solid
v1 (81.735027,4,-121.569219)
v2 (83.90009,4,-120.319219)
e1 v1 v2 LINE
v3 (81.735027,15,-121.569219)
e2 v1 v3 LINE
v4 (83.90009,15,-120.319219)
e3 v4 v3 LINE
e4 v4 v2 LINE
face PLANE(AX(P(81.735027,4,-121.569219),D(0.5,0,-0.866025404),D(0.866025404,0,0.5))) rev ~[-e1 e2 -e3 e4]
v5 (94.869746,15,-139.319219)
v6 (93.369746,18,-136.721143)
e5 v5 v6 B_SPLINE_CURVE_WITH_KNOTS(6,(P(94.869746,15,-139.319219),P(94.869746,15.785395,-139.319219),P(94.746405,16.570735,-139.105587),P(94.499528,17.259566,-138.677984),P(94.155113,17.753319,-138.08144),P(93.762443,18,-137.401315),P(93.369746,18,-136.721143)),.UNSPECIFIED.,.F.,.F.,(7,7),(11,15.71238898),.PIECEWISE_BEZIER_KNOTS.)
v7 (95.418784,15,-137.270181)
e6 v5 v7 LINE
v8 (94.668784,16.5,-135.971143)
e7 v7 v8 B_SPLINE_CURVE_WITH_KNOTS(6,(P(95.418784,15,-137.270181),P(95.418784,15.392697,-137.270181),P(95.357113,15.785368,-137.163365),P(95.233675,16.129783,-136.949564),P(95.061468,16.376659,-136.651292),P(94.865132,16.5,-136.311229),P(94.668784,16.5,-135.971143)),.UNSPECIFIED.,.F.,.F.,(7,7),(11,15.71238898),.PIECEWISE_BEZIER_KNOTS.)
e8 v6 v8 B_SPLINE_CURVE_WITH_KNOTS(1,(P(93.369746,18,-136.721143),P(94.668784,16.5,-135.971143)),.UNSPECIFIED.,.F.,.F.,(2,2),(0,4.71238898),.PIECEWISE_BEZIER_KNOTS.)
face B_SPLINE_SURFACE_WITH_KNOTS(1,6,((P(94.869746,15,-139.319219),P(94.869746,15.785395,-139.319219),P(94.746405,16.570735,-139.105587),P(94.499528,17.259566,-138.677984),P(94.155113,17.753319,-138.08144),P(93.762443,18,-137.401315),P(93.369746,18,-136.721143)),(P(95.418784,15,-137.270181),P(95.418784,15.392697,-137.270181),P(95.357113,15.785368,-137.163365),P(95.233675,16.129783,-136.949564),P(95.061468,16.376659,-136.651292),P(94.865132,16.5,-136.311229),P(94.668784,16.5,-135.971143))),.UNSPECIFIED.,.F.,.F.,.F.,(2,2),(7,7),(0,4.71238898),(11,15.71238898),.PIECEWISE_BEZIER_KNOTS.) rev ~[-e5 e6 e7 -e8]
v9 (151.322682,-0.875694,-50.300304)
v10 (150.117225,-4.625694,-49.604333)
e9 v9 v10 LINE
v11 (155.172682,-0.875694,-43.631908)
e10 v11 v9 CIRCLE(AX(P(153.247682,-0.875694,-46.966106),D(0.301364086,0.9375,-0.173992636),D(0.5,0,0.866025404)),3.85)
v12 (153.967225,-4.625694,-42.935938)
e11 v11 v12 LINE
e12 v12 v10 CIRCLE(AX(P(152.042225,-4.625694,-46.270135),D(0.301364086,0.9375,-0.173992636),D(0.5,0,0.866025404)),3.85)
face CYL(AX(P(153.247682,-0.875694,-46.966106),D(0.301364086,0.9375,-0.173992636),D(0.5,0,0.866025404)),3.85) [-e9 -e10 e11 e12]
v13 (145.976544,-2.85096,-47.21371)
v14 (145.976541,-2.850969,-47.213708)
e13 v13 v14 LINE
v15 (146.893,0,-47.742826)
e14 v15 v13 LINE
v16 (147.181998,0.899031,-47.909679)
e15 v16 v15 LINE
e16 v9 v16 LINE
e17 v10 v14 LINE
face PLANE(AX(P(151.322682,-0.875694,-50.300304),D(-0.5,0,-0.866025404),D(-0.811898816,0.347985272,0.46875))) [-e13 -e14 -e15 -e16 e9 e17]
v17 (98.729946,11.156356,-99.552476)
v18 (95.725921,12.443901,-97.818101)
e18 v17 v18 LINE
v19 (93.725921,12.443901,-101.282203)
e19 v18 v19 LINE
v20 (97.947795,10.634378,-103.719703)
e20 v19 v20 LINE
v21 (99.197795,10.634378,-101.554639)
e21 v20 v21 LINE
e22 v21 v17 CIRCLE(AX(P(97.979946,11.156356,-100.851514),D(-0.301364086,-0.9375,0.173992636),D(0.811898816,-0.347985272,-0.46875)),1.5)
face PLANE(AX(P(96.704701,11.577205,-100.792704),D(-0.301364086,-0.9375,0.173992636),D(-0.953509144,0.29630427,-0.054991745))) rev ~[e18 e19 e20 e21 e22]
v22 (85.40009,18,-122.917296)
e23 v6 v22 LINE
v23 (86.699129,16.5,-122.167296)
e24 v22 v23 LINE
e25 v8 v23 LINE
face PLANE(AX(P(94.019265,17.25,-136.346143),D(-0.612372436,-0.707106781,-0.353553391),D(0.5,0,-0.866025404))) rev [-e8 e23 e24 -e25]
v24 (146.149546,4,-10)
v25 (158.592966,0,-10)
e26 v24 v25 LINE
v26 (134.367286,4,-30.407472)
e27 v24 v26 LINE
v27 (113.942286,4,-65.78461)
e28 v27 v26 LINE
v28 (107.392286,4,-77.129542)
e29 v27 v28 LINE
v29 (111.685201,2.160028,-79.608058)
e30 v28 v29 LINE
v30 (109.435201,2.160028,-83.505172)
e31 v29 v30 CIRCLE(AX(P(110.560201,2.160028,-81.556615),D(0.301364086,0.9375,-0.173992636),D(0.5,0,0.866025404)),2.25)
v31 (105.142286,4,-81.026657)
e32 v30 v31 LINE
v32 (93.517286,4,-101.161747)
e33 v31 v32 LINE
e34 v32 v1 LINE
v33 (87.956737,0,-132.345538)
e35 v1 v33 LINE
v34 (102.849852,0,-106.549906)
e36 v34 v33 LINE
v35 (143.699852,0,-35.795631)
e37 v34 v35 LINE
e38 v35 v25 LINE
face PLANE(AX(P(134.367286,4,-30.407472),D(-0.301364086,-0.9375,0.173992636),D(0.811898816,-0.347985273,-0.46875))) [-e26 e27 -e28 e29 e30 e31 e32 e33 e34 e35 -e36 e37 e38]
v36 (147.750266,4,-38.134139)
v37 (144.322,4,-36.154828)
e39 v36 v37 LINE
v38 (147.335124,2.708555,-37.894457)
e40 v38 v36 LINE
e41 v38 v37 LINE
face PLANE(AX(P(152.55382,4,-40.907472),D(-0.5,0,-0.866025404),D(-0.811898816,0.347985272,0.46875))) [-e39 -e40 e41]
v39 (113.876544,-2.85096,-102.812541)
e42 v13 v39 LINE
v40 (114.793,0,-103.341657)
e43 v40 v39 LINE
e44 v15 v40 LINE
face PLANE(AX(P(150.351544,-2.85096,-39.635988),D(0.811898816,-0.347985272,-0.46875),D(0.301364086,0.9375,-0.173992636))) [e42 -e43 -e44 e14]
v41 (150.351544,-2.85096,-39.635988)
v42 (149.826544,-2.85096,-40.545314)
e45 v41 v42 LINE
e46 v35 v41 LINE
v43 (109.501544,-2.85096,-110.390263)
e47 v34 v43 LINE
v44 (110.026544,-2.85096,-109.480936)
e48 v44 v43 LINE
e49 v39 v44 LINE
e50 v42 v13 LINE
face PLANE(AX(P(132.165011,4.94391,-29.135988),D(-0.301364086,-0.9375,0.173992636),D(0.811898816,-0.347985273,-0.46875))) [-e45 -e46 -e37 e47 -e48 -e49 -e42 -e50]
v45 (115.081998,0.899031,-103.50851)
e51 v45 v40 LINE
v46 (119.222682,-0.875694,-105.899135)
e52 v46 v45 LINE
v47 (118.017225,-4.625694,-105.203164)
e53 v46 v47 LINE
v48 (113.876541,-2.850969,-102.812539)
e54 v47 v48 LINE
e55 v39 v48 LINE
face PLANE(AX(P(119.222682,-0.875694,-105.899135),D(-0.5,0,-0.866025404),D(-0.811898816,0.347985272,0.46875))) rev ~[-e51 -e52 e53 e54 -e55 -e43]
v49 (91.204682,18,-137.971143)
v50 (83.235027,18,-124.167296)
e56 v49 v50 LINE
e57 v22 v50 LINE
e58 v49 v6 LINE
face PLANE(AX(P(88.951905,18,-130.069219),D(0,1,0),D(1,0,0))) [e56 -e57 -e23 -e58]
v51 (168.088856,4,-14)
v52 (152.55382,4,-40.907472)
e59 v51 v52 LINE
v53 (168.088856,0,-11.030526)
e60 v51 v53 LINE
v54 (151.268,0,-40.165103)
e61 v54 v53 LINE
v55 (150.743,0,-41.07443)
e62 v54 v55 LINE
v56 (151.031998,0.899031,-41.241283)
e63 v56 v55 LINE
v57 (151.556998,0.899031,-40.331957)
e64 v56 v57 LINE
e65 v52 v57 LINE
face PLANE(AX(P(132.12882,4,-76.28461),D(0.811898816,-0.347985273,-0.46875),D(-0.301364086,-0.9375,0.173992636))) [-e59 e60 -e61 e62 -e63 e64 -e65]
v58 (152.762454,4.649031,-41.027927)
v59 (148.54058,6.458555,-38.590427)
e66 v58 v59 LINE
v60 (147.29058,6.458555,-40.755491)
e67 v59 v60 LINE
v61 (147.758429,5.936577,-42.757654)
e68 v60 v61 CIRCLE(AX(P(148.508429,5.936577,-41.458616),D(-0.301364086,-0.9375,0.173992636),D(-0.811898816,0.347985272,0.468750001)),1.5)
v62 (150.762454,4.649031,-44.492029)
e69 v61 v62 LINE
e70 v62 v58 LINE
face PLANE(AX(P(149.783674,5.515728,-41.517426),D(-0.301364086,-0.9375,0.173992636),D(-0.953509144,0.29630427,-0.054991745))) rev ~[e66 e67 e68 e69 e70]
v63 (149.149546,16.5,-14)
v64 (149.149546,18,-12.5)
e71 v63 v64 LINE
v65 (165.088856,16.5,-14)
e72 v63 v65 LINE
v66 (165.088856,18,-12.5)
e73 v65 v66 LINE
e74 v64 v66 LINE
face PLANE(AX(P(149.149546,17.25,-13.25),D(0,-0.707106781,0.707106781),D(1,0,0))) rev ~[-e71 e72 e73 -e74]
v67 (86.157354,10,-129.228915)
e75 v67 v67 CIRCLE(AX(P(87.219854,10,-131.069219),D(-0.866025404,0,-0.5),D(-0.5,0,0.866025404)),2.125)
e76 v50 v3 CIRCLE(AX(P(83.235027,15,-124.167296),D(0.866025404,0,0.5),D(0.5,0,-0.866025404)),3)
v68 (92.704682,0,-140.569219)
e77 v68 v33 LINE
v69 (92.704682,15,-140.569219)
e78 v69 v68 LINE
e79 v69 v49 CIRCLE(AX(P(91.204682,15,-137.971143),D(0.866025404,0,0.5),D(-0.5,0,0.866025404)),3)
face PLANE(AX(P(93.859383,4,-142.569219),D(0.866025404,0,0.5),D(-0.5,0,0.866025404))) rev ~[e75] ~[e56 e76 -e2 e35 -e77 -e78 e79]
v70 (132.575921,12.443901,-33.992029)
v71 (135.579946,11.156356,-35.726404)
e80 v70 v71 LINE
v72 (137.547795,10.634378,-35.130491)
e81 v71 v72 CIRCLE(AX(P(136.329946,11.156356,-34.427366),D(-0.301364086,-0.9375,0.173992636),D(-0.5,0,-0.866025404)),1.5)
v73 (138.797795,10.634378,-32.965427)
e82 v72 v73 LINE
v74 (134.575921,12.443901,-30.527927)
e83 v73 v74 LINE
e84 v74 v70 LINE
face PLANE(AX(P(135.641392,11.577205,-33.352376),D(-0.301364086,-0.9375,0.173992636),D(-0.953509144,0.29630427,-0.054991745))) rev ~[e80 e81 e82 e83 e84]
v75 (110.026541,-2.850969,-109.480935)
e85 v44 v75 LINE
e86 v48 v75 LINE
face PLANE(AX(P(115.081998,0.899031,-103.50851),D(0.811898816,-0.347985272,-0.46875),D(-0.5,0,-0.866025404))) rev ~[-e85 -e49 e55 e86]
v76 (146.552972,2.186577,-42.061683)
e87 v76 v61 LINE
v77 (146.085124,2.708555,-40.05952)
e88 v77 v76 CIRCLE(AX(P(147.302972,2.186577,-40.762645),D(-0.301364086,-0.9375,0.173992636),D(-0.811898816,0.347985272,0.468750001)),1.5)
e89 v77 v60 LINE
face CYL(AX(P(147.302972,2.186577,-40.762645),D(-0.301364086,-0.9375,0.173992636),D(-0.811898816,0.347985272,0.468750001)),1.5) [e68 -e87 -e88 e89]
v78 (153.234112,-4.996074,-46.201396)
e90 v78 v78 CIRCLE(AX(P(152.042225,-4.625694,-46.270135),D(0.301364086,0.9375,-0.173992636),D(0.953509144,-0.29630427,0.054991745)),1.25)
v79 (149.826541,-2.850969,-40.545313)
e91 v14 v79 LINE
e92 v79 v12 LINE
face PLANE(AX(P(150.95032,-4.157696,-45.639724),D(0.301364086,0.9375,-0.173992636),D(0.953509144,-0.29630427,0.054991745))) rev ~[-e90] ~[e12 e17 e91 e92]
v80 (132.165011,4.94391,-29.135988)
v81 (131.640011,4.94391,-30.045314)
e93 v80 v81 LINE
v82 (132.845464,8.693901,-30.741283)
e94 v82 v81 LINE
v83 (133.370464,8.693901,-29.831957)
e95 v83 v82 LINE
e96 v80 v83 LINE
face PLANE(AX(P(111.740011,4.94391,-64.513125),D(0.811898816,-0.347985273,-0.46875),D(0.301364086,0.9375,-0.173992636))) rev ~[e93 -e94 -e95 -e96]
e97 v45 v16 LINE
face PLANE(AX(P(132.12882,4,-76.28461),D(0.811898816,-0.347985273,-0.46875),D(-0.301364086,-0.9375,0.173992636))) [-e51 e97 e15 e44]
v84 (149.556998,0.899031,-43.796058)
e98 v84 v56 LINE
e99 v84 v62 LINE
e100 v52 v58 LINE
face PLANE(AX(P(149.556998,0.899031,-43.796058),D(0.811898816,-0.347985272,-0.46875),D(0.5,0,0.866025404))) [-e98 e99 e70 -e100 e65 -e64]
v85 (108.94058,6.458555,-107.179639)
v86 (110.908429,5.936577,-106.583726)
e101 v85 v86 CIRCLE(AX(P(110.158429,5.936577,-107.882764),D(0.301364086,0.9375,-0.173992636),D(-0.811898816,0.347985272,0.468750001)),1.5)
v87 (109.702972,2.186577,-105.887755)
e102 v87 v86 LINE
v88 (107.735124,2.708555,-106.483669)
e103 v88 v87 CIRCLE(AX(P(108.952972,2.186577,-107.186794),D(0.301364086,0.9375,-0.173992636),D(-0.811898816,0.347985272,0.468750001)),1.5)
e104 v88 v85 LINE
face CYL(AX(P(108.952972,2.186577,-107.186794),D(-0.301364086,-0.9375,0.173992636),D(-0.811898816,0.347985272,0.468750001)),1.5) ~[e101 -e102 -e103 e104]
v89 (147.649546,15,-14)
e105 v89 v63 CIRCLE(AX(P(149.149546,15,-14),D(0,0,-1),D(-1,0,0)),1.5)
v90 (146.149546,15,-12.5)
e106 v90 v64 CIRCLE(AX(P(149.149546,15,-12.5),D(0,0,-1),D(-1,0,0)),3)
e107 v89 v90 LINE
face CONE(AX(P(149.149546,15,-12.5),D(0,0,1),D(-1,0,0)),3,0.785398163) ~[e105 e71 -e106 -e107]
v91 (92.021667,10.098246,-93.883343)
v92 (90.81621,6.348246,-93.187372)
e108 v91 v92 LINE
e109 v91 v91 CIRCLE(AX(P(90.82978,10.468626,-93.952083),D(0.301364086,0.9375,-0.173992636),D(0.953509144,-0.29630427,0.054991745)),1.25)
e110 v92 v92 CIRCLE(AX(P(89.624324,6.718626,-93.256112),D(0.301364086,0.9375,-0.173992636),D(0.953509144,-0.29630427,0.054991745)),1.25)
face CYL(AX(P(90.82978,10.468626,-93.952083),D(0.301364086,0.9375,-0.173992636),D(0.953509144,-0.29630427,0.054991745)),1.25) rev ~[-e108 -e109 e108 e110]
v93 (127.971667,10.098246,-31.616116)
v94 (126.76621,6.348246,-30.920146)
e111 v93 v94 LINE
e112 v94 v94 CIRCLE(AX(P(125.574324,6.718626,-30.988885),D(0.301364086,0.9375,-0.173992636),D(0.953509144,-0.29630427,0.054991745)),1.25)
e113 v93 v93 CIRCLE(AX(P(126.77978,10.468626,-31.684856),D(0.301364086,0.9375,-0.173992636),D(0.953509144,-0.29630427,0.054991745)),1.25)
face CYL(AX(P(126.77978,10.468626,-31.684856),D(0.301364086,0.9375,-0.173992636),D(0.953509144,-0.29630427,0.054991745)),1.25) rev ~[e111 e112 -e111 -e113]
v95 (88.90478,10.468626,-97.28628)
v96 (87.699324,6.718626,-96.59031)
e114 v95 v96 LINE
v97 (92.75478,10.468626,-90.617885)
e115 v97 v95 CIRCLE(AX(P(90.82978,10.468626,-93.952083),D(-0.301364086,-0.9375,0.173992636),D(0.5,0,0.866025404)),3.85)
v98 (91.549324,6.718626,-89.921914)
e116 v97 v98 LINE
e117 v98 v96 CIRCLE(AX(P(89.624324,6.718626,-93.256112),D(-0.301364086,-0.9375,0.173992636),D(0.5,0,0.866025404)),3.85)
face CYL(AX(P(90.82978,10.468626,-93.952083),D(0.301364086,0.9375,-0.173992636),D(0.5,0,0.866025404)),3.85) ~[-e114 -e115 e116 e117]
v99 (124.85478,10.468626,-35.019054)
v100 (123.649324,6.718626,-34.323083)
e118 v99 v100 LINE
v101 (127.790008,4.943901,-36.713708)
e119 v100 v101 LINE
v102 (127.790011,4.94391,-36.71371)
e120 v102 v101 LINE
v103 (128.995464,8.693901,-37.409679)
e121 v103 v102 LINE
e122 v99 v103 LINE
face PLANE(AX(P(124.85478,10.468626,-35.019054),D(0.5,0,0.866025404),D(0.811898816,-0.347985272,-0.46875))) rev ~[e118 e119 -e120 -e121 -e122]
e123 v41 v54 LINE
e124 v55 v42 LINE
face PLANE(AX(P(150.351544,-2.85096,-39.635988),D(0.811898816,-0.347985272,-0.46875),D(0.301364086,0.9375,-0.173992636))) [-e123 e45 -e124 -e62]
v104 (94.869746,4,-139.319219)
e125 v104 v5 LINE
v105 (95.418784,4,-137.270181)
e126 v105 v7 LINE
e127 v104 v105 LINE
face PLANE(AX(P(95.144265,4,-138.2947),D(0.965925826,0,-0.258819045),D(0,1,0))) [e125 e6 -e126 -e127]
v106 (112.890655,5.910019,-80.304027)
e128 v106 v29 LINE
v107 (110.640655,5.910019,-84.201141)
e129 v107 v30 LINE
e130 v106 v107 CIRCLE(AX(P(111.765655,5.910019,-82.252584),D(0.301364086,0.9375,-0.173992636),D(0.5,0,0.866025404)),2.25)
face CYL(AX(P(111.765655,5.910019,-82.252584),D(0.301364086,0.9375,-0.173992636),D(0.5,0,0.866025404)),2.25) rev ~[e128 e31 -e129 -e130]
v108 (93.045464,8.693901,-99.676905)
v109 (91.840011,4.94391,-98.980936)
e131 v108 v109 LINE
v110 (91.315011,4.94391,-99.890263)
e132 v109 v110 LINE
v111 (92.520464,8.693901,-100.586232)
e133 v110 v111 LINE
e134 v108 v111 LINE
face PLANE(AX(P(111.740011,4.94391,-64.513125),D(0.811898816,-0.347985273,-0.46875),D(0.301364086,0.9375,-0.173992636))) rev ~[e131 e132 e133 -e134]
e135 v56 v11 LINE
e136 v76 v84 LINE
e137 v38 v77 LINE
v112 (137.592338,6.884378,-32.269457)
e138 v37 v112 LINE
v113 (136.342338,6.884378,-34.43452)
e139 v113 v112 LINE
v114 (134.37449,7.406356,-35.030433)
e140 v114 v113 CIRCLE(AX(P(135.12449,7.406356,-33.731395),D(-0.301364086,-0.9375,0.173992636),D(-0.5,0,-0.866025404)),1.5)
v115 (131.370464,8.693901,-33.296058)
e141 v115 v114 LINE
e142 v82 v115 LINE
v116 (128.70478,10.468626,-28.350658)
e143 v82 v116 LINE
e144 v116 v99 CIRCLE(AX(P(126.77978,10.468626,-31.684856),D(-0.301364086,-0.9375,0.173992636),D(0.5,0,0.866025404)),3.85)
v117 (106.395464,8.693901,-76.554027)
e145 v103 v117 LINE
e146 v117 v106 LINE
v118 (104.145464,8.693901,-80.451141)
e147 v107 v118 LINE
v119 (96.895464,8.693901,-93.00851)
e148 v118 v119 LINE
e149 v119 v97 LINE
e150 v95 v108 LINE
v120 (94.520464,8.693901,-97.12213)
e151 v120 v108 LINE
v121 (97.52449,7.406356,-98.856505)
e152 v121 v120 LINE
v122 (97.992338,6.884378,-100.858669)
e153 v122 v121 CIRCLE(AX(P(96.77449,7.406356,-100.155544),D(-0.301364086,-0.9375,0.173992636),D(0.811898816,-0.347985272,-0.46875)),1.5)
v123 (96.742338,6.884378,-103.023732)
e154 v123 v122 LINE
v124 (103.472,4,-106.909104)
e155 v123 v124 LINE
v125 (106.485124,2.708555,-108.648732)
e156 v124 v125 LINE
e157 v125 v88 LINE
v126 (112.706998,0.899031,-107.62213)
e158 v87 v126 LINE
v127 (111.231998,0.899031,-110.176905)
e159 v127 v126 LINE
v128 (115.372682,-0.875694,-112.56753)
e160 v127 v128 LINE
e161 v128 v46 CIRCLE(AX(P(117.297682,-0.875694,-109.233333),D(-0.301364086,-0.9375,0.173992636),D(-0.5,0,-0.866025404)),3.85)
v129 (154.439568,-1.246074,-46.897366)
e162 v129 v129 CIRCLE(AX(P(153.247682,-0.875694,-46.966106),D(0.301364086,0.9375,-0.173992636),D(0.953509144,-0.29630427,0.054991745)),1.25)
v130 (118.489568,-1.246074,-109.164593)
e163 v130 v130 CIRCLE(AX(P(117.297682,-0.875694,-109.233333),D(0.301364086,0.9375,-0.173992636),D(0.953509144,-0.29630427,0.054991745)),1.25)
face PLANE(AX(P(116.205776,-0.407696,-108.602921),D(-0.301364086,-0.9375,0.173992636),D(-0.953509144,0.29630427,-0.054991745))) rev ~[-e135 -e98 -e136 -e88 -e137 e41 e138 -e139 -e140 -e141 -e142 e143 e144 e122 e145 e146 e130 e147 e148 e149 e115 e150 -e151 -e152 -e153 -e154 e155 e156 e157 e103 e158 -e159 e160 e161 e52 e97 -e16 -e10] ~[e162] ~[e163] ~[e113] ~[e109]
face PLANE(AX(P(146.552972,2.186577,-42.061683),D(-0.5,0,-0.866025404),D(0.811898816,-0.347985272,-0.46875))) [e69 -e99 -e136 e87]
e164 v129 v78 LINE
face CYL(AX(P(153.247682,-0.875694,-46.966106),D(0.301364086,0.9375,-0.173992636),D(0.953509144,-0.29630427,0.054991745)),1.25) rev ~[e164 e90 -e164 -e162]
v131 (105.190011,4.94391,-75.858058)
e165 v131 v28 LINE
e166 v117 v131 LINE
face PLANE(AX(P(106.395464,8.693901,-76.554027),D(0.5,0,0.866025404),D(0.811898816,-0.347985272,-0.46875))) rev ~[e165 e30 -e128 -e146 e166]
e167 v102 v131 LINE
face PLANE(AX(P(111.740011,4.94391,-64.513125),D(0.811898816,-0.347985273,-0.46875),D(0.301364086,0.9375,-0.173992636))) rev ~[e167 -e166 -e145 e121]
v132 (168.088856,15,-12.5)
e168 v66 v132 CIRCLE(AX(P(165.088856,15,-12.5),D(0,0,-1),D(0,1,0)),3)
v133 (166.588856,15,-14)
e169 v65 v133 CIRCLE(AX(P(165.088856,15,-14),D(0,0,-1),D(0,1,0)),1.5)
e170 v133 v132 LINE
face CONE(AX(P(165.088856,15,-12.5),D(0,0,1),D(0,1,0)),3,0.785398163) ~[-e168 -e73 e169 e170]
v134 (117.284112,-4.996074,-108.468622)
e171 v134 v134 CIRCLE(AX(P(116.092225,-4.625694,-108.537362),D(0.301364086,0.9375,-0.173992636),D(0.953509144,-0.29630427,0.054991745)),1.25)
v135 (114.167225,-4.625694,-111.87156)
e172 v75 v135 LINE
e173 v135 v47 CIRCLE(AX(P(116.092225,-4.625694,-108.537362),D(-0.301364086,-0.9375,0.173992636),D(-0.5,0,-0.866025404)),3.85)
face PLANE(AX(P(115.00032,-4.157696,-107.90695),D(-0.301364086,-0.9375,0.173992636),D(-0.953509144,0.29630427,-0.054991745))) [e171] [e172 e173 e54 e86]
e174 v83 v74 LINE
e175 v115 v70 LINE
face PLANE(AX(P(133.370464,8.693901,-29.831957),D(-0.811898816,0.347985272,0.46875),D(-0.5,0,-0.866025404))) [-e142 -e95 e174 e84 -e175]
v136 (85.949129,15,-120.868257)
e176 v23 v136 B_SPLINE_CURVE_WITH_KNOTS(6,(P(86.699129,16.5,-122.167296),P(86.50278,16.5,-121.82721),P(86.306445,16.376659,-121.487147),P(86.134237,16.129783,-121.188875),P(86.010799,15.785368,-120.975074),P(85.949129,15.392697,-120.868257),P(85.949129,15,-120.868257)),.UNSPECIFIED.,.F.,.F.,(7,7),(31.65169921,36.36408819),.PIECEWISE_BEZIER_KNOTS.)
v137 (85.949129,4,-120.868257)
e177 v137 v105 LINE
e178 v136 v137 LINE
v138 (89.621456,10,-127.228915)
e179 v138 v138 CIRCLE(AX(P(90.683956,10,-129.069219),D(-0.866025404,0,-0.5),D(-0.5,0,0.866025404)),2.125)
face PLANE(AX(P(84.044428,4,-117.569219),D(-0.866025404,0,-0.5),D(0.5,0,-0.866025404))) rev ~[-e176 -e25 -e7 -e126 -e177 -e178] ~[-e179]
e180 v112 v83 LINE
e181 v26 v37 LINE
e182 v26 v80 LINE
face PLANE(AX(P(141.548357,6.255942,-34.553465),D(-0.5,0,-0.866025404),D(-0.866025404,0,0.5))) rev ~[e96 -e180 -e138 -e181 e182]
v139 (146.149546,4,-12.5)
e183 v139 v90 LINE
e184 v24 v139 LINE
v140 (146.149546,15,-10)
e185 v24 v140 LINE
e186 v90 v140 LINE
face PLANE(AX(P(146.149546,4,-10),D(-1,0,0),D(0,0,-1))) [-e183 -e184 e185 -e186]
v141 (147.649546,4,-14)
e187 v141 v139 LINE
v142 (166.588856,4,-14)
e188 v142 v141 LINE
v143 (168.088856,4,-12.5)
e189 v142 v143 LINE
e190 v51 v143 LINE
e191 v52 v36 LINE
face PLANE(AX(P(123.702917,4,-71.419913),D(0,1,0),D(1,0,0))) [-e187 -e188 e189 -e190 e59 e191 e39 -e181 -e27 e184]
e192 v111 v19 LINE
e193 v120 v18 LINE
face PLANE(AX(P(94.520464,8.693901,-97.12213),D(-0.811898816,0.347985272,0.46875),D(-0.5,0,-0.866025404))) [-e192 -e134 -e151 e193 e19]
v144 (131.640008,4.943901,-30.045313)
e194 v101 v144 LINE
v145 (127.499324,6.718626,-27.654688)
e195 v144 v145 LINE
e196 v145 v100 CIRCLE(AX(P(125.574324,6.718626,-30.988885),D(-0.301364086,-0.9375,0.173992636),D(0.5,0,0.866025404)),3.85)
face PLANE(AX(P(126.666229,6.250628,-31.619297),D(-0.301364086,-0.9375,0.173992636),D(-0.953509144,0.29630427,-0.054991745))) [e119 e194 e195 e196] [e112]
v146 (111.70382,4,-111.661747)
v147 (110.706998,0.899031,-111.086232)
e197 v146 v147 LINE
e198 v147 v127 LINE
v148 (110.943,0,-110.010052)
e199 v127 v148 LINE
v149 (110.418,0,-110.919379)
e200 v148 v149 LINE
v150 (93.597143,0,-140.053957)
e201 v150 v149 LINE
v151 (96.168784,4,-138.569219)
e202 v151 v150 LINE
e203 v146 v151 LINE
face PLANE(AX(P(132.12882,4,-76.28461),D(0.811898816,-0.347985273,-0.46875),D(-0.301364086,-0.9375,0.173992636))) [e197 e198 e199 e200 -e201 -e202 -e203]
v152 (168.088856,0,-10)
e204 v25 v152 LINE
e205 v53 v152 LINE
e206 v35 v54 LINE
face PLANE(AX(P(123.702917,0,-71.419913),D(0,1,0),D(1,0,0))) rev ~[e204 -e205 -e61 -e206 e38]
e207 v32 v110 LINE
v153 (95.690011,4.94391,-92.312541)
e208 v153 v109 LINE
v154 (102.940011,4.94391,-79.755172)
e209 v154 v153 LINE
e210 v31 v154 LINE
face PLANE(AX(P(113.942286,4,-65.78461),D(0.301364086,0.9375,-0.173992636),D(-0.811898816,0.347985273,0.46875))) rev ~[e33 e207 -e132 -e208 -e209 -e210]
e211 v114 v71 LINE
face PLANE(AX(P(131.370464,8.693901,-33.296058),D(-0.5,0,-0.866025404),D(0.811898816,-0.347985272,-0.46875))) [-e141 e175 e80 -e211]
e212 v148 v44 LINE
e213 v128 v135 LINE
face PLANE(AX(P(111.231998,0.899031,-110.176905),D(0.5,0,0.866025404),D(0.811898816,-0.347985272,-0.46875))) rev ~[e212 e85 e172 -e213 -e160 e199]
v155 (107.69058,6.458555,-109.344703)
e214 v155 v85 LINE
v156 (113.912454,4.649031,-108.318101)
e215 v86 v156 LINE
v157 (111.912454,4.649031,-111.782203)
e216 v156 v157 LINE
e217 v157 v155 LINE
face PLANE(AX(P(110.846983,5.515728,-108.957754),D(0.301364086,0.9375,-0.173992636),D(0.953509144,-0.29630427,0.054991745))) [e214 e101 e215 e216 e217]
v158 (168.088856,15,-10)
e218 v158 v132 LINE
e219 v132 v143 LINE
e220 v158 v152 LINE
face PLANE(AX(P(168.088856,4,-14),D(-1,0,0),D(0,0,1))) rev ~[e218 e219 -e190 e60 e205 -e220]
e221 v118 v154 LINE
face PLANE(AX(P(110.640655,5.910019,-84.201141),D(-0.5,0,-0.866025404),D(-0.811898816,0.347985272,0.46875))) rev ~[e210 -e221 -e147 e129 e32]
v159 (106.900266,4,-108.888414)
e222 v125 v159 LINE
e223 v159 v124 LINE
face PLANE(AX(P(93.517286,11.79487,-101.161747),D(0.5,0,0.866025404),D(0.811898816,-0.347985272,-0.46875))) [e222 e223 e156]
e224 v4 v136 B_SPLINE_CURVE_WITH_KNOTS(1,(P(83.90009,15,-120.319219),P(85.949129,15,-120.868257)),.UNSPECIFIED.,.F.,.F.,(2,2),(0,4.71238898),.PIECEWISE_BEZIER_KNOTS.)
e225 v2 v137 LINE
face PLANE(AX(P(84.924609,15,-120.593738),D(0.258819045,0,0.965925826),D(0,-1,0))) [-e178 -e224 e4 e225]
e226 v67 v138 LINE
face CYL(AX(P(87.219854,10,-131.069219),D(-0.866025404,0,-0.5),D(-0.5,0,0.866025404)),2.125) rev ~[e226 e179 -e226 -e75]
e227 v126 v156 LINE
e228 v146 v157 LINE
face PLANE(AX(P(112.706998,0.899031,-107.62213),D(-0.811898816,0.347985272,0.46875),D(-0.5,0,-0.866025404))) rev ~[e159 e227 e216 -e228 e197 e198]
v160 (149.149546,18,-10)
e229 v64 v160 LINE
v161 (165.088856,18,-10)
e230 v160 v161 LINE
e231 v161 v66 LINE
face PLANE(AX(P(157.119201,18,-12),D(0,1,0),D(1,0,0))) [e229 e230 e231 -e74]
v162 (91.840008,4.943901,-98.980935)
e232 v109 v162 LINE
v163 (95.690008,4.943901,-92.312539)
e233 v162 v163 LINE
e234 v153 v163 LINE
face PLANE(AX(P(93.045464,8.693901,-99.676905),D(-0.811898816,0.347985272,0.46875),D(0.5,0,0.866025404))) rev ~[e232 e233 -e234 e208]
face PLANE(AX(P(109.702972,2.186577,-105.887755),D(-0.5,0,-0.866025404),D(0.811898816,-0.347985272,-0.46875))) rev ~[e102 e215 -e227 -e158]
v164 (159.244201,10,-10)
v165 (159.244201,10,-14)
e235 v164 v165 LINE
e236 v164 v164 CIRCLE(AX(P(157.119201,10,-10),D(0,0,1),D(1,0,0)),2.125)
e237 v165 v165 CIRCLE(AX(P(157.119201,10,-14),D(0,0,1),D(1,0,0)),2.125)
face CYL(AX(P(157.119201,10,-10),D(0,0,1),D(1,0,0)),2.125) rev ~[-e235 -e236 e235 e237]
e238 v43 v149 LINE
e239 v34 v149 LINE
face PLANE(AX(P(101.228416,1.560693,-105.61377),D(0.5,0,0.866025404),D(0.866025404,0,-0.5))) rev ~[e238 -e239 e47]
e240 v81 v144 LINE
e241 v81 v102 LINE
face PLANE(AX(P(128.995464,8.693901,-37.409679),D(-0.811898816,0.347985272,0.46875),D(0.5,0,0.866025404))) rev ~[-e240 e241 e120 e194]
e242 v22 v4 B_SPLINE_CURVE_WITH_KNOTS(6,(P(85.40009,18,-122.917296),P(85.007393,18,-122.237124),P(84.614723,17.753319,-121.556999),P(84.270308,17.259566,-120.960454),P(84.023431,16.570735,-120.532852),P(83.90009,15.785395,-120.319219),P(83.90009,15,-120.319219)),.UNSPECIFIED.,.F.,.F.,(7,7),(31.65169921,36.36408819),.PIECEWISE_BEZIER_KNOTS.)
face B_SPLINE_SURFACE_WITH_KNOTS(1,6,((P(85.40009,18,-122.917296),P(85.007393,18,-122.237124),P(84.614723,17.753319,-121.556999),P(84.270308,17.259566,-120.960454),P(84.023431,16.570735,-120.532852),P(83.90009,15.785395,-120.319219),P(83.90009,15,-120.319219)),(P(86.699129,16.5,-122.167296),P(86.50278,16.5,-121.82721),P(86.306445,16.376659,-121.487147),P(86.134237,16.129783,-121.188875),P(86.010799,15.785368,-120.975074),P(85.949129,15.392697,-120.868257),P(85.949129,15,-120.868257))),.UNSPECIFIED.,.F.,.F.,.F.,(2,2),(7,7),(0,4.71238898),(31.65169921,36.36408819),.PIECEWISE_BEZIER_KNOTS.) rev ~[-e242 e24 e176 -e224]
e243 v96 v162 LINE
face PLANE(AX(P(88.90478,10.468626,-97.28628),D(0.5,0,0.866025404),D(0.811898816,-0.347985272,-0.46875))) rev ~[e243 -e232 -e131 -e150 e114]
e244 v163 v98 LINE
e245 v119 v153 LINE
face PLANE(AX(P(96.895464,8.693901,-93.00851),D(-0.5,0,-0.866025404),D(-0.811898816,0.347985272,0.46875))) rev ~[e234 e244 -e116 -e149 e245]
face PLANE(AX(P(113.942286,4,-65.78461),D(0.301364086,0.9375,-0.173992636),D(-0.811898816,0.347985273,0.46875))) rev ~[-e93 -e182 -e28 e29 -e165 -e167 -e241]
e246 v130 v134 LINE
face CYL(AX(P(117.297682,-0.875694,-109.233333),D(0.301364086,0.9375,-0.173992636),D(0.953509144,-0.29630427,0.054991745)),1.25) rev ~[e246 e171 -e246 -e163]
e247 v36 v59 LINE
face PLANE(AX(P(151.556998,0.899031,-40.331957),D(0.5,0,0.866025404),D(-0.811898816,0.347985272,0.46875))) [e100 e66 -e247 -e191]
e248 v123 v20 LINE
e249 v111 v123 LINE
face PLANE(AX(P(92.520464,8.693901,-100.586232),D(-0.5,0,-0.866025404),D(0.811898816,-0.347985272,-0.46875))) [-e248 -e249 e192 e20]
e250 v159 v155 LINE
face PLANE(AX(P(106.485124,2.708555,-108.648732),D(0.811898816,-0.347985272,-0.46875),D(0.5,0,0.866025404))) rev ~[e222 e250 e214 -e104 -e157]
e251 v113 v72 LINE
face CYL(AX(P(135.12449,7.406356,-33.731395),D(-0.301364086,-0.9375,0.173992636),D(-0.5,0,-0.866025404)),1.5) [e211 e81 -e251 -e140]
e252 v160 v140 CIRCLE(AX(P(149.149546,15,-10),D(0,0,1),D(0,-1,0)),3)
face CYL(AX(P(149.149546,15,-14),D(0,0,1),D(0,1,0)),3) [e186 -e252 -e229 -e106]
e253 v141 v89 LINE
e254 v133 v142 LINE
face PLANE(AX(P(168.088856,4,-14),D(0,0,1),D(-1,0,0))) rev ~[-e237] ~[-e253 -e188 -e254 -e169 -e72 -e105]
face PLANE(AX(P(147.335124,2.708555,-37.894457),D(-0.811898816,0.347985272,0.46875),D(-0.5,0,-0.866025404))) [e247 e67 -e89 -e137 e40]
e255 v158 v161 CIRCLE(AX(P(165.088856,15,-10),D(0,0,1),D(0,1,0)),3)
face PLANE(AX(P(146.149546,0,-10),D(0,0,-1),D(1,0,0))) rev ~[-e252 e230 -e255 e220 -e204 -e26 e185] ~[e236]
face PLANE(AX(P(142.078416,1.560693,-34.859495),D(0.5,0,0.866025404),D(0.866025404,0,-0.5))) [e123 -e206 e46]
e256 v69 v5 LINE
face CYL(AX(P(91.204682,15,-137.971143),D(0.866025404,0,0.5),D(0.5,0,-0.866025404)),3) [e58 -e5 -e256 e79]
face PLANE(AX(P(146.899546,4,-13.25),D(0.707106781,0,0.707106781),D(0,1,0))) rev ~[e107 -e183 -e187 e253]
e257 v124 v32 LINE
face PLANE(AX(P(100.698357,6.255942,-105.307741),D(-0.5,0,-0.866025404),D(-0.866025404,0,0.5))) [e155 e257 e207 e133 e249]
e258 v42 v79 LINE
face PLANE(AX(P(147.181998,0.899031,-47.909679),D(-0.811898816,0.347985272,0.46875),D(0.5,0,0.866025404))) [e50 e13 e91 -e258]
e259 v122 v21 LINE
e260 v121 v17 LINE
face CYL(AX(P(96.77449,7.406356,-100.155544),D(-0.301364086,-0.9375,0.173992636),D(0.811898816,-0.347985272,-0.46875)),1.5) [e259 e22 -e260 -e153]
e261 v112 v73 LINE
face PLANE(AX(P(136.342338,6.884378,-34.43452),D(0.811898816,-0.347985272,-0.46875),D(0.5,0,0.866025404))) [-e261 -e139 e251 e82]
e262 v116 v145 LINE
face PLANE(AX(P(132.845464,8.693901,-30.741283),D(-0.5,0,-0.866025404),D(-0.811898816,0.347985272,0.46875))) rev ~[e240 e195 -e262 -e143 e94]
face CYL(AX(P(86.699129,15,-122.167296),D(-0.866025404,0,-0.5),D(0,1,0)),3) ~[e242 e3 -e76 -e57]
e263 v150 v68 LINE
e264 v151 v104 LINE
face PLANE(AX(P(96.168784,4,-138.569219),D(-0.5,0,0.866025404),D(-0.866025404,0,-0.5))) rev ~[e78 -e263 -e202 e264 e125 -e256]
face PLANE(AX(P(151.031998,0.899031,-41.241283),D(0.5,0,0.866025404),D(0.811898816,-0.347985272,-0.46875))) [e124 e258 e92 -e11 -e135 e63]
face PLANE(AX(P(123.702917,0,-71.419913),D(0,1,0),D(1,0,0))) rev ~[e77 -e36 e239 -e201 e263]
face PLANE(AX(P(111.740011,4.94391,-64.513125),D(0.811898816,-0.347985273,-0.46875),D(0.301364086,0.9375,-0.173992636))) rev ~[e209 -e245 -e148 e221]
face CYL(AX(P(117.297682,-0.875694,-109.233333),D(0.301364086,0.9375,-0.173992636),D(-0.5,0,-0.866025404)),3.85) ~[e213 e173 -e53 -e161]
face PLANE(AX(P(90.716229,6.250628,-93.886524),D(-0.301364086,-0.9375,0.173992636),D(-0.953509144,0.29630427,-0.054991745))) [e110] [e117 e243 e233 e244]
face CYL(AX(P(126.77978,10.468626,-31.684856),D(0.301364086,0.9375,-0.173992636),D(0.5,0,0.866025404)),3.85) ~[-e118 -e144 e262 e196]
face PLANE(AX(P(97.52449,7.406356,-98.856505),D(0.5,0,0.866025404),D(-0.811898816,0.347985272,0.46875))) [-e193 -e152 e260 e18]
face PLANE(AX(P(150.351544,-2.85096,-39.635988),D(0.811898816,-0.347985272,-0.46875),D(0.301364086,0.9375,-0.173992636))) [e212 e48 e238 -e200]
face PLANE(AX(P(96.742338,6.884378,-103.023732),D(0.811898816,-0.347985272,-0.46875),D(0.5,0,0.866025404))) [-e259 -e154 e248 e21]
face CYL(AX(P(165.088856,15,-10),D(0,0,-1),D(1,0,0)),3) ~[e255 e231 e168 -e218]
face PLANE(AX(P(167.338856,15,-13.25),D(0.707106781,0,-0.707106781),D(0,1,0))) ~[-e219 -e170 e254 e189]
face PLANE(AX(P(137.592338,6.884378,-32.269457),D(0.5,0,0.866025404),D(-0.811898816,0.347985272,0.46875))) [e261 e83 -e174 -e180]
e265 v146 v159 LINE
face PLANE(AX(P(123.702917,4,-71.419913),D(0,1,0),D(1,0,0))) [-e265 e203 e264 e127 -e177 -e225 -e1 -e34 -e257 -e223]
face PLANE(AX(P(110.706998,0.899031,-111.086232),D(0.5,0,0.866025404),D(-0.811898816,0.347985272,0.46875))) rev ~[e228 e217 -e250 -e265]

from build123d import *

# Parameters (mm, degrees)
BOSS_EXTRUDE1_DEPTH      = 4
BOSS_EXTRUDE2_DEPTH      = 14
CUT_EXTRUDE3_DEPTH       = 15
CUT_EXTRUDE4_DEPTH       = 5
SKETCH7_R                = 2.125
CUT_EXTRUDE5_DEPTH       = 4
SKETCH8_R                = 2.125
CUT_EXTRUDE6_DEPTH       = 4
FILLET1_R                = 3
CHAMFER1_SIZE            = 1.5
BOSS_EXTRUDE3_DEPTH      = 40.85
BOSS_EXTRUDE3_DEPTH_BACK = 40.85
CUT_EXTRUDE7_DEPTH       = 76.384173958
CUT_EXTRUDE7_DEPTH_BACK  = 81.869001515
CUT_EXTRUDE8_DEPTH       = 3.3077
BOSS_EXTRUDE4_DEPTH      = 4
BOSS_EXTRUDE5_DEPTH      = 81.7
CUT_EXTRUDE9_DEPTH       = 30.834988393
SKETCH16_R               = 1.25
BOSS_EXTRUDE6_DEPTH      = 4
CUT_EXTRUDE10_DEPTH      = 35.534173958
CUT_EXTRUDE10_DEPTH_BACK = 122.719001515


with BuildPart() as part:
    # Sketch1 → Boss-Extrude1 (new body)
    with BuildSketch(Plane(origin=(0, 0, 0), x_dir=(1, 0, 0), z_dir=(0, 1, 0))):
        Polygon((81.735026919, 121.569219382), (146.149545762, 10), (170.398257068, 10), (93.859382572, 142.569219382), align=None)
    extrude(amount=BOSS_EXTRUDE1_DEPTH)

    # Sketch2 → Boss-Extrude2 (add)
    with BuildSketch(Plane(origin=(0, 4, 0), x_dir=(1, 0, 0), z_dir=(0, 1, 0))):
        Polygon((93.859382572, 142.569219382), (81.735026919, 121.569219382), (84.044427996, 117.569219382), (96.168783649, 138.569219382), align=None)
        Polygon((146.149545762, 10), (170.398257068, 10), (168.088855991, 14), (143.840144685, 14), align=None)
    extrude(amount=BOSS_EXTRUDE2_DEPTH)

    # Sketch5 → Cut-Extrude3 (cut, through all)
    with BuildSketch(Plane(origin=(0, 4, 0), x_dir=(1, 0, 0), z_dir=(0, 1, 0))):
        Polygon((96.168783649, 138.569219382), (92.704682034, 140.569219382), (93.859382572, 142.569219382), align=None)
        Polygon((81.735026919, 121.569219382), (85.199128534, 119.569219382), (84.044427996, 117.569219382), align=None)
        Polygon((146.149545762, 10), (146.149545762, 14), (143.840144685, 14), align=None)
        Polygon((168.088855991, 14), (168.088855991, 10), (170.398257068, 10), align=None)
    extrude(amount=CUT_EXTRUDE3_DEPTH, mode=Mode.SUBTRACT)

    # Sketch6 → Cut-Extrude4 (cut, through all)
    with BuildSketch(Plane(origin=(0, 4, 0), x_dir=(1, 0, 0), z_dir=(0, 1, 0))):
        Polygon((93.859382572, 142.569219382), (96.168783649, 138.569219382), (92.704682034, 140.569219382), align=None)
        Polygon((168.088855991, 14), (168.088855991, 10), (170.398257068, 10), align=None)
    extrude(amount=-CUT_EXTRUDE4_DEPTH, mode=Mode.SUBTRACT)

    # Sketch7 → Cut-Extrude5 (cut)
    with BuildSketch(Plane.XY.offset(-10)):
        with Locations((157.119200877, 10)):
            Circle(SKETCH7_R)
    extrude(amount=-CUT_EXTRUDE5_DEPTH, mode=Mode.SUBTRACT)

    # Sketch8 → Cut-Extrude6 (cut)
    with BuildSketch(Plane(origin=(8.660254038, 0, 5), x_dir=(-0.5, 0, 0.866025404), z_dir=(-0.866025404, 0, -0.5))):
        with Locations((-157.119200877, 10)):
            Circle(SKETCH8_R)
    extrude(amount=-CUT_EXTRUDE6_DEPTH, mode=Mode.SUBTRACT)

    # Fillet1
    fillet1_edges = [part.edges().sort_by_distance(p)[0] for p in [
        (94.436732841, 18, -139.569219382),
        (83.467077727, 18, -120.569219382),
        (146.149545762, 18, -12),
        (168.088855991, 18, -12),
    ]]
    fillet(fillet1_edges, radius=FILLET1_R)

    # Chamfer1
    chamfer1_edges = [part.edges().sort_by_distance(p)[0] for p in [
        (96.168783649, 9.5, -138.569219382),
        (85.199128534, 9.5, -119.569219382),
        (90.683956091, 18, -129.069219382),
        (85.638468362, 17.121320344, -120.330178286),
        (95.72944382, 17.121320344, -137.808260477),
        (146.149545762, 9.5, -14),
        (157.119200877, 18, -14),
        (168.088855991, 9.5, -14),
        (167.210176335, 17.121320344, -14),
        (147.028225419, 17.121320344, -14),
    ]]
    chamfer(chamfer1_edges, length=CHAMFER1_SIZE)

    # Sketch10 → Boss-Extrude3 (add, two sides)
    with BuildSketch(Plane(origin=(0, 0, 0), x_dir=(0.866025404, 0, -0.5), z_dir=(0.5, 0, 0.866025404))) as boss_extrude3_sk:
        Polygon((152.569219382, 4), (131.569219382, 4), (129.026250632, 4.943910052), (131.569219382, 11.794870108), align=None)
    extrude(amount=BOSS_EXTRUDE3_DEPTH)
    extrude(boss_extrude3_sk.sketch, amount=-BOSS_EXTRUDE3_DEPTH_BACK)

    # Sketch11 → Cut-Extrude7 (cut, two sides)
    with BuildSketch(Plane(origin=(0, 0, 0), x_dir=(0.866025404, 0, -0.5), z_dir=(0.5, 0, 0.866025404))) as cut_extrude7_sk:
        Polygon((152.569219382, 4), (151.084482218, 0), (152.569219382, 0), align=None)
    extrude(amount=CUT_EXTRUDE7_DEPTH, mode=Mode.SUBTRACT)
    extrude(cut_extrude7_sk.sketch, amount=-CUT_EXTRUDE7_DEPTH_BACK, mode=Mode.SUBTRACT)

    # Sketch12 → Cut-Extrude8 (cut)
    with BuildSketch(Plane(origin=(17.130089599, 53.289226321, -9.890061841), x_dir=(0.953509144, -0.29630427, 0.054991745), z_dir=(0.301364086, 0.9375, -0.173992636))):
        Polygon((80.111656223, 97.310988855), (99.184922165, 109.057074429), (142.026671782, 39.490742847), (122.95340584, 27.744657273), align=None)
    extrude(amount=-CUT_EXTRUDE8_DEPTH, mode=Mode.SUBTRACT)

    # Sketch14 → Boss-Extrude4 (add)
    with BuildSketch(Plane(origin=(16.13326761, 50.188257571, -9.314546398), x_dir=(0.953509144, -0.29630427, 0.054991745), z_dir=(0.301364086, 0.9375, -0.173992636))):
        with BuildLine():
            Line((80.111656223, 97.310988855), (84.539378674, 100.037758721))
            Line((84.539378674, 100.037758721), (85.850325725, 97.909046004))
            ThreePointArc((85.850325725, 97.909046004), (86.032422143, 96.775529185), (85.359666325, 95.845250143))
            Line((85.359666325, 95.845250143), (82.209171505, 93.905048508))
            Line((82.209171505, 93.905048508), (80.111656223, 97.310988855))
        make_face()
        with BuildLine():
            Line((99.184922165, 109.057074429), (94.757199714, 106.330304564))
            Line((94.757199714, 106.330304564), (96.068146765, 104.201591847))
            ThreePointArc((96.068146765, 104.201591847), (96.998425806, 103.52883603), (98.131942626, 103.710932448))
            Line((98.131942626, 103.710932448), (101.282437446, 105.651134083))
            Line((101.282437446, 105.651134083), (99.184922165, 109.057074429))
        make_face()
        with BuildLine():
            Line((122.95340584, 27.744657273), (120.855890559, 31.15059762))
            Line((120.855890559, 31.15059762), (124.00638538, 33.090799255))
            ThreePointArc((124.00638538, 33.090799255), (125.139902199, 33.272895673), (126.07018124, 32.600139855))
            Line((126.07018124, 32.600139855), (127.381128291, 30.471427139))
            Line((127.381128291, 30.471427139), (122.95340584, 27.744657273))
        make_face()
        with BuildLine():
            Line((142.026671782, 39.490742847), (137.598949331, 36.763972982))
            Line((137.598949331, 36.763972982), (136.28800228, 38.892685699))
            ThreePointArc((136.28800228, 38.892685699), (136.105905862, 40.026202518), (136.77866168, 40.956481559))
            Line((136.77866168, 40.956481559), (139.929156501, 42.896683194))
            Line((139.929156501, 42.896683194), (142.026671782, 39.490742847))
        make_face()
    extrude(amount=BOSS_EXTRUDE4_DEPTH)

    # Sketch15 → Boss-Extrude5 (add)
    with BuildSketch(Plane(origin=(20.425, 0, 35.377137745), x_dir=(0.866025404, 0, -0.5), z_dir=(0.5, 0, 0.866025404))):
        Polygon((129.026250632, 4.943910052), (150.026250632, -2.850960056), (151.084482218, 0), align=None)
    extrude(amount=-BOSS_EXTRUDE5_DEPTH)

    # Sketch13 → Cut-Extrude9 (cut, through all)
    with BuildSketch(Plane(origin=(16.13326761, 50.188257571, -9.314546398), x_dir=(0.953509144, -0.29630427, 0.054991745), z_dir=(0.301364086, 0.9375, -0.173992636))):
        with BuildLine():
            Line((94.663168486, 73.6822777), (101.47504918, 77.877308262))
            ThreePointArc((101.47504918, 77.877308262), (102.211038279, 80.973002053), (99.115344488, 81.708991152))
            Line((99.115344488, 81.708991152), (92.303463795, 77.51396059))
            Line((92.303463795, 77.51396059), (94.663168486, 73.6822777))
        make_face()
    extrude(amount=-CUT_EXTRUDE9_DEPTH, mode=Mode.SUBTRACT)

    # Sketch16 → Boss-Extrude6 (add)
    with BuildSketch(Plane(origin=(16.13326761, 50.188257571, -9.314546398), x_dir=(0.953509144, -0.29630427, 0.054991745), z_dir=(0.301364086, 0.9375, -0.173992636))):
        with BuildLine():
            Line((99.735519926, 108.163015088), (104.078093869, 110.837347072))
            ThreePointArc((104.078093869, 110.837347072), (109.37516991, 109.577987946), (108.115810785, 104.280911904))
            Line((108.115810785, 104.280911904), (103.773236843, 101.606579921))
            Line((103.773236843, 101.606579921), (99.735519926, 108.163015088))
        make_face()
        with Locations((106.096952327, 107.559129488)):
            Circle(SKETCH16_R, mode=Mode.SUBTRACT)
        with BuildLine():
            Line((76.319680043, 93.742597531), (80.662253985, 96.416929514))
            Line((80.662253985, 96.416929514), (84.699970901, 89.860494347))
            Line((84.699970901, 89.860494347), (80.357396959, 87.186162363))
            ThreePointArc((80.357396959, 87.186162363), (75.060320917, 88.445521489), (76.319680043, 93.742597531))
        make_face()
        with Locations((78.338538501, 90.464379947)):
            Circle(SKETCH16_R, mode=Mode.SUBTRACT)
        with BuildLine():
            Line((141.47607402, 40.384802188), (145.818647962, 43.059134172))
            ThreePointArc((145.818647962, 43.059134172), (147.078007088, 48.356210213), (141.780931046, 49.615569339))
            Line((141.780931046, 49.615569339), (137.438357104, 46.941237356))
            Line((137.438357104, 46.941237356), (141.47607402, 40.384802188))
        make_face()
        with Locations((143.799789504, 46.337351755)):
            Circle(SKETCH16_R, mode=Mode.SUBTRACT)
        with BuildLine():
            Line((118.365091163, 35.195151782), (122.402808079, 28.638716614))
            Line((122.402808079, 28.638716614), (118.060234137, 25.964384631))
            ThreePointArc((118.060234137, 25.964384631), (112.763158095, 27.223743756), (114.02251722, 32.520819798))
            Line((114.02251722, 32.520819798), (118.365091163, 35.195151782))
        make_face()
        with Locations((116.041375678, 29.242602214)):
            Circle(SKETCH16_R, mode=Mode.SUBTRACT)
    extrude(amount=-BOSS_EXTRUDE6_DEPTH)

    # Sketch18 → Cut-Extrude10 (cut, two sides)
    with BuildSketch(Plane(origin=(20.425, 0, 35.377137745), x_dir=(0.866025404, 0, -0.5), z_dir=(0.5, 0, 0.866025404))) as cut_extrude10_sk:
        Polygon((131.569219382, 4), (142.345537503, 0), (131.569219382, 0), align=None)
    extrude(amount=CUT_EXTRUDE10_DEPTH, mode=Mode.SUBTRACT)
    extrude(cut_extrude10_sk.sketch, amount=-CUT_EXTRUDE10_DEPTH_BACK, mode=Mode.SUBTRACT)


solid = part.part
